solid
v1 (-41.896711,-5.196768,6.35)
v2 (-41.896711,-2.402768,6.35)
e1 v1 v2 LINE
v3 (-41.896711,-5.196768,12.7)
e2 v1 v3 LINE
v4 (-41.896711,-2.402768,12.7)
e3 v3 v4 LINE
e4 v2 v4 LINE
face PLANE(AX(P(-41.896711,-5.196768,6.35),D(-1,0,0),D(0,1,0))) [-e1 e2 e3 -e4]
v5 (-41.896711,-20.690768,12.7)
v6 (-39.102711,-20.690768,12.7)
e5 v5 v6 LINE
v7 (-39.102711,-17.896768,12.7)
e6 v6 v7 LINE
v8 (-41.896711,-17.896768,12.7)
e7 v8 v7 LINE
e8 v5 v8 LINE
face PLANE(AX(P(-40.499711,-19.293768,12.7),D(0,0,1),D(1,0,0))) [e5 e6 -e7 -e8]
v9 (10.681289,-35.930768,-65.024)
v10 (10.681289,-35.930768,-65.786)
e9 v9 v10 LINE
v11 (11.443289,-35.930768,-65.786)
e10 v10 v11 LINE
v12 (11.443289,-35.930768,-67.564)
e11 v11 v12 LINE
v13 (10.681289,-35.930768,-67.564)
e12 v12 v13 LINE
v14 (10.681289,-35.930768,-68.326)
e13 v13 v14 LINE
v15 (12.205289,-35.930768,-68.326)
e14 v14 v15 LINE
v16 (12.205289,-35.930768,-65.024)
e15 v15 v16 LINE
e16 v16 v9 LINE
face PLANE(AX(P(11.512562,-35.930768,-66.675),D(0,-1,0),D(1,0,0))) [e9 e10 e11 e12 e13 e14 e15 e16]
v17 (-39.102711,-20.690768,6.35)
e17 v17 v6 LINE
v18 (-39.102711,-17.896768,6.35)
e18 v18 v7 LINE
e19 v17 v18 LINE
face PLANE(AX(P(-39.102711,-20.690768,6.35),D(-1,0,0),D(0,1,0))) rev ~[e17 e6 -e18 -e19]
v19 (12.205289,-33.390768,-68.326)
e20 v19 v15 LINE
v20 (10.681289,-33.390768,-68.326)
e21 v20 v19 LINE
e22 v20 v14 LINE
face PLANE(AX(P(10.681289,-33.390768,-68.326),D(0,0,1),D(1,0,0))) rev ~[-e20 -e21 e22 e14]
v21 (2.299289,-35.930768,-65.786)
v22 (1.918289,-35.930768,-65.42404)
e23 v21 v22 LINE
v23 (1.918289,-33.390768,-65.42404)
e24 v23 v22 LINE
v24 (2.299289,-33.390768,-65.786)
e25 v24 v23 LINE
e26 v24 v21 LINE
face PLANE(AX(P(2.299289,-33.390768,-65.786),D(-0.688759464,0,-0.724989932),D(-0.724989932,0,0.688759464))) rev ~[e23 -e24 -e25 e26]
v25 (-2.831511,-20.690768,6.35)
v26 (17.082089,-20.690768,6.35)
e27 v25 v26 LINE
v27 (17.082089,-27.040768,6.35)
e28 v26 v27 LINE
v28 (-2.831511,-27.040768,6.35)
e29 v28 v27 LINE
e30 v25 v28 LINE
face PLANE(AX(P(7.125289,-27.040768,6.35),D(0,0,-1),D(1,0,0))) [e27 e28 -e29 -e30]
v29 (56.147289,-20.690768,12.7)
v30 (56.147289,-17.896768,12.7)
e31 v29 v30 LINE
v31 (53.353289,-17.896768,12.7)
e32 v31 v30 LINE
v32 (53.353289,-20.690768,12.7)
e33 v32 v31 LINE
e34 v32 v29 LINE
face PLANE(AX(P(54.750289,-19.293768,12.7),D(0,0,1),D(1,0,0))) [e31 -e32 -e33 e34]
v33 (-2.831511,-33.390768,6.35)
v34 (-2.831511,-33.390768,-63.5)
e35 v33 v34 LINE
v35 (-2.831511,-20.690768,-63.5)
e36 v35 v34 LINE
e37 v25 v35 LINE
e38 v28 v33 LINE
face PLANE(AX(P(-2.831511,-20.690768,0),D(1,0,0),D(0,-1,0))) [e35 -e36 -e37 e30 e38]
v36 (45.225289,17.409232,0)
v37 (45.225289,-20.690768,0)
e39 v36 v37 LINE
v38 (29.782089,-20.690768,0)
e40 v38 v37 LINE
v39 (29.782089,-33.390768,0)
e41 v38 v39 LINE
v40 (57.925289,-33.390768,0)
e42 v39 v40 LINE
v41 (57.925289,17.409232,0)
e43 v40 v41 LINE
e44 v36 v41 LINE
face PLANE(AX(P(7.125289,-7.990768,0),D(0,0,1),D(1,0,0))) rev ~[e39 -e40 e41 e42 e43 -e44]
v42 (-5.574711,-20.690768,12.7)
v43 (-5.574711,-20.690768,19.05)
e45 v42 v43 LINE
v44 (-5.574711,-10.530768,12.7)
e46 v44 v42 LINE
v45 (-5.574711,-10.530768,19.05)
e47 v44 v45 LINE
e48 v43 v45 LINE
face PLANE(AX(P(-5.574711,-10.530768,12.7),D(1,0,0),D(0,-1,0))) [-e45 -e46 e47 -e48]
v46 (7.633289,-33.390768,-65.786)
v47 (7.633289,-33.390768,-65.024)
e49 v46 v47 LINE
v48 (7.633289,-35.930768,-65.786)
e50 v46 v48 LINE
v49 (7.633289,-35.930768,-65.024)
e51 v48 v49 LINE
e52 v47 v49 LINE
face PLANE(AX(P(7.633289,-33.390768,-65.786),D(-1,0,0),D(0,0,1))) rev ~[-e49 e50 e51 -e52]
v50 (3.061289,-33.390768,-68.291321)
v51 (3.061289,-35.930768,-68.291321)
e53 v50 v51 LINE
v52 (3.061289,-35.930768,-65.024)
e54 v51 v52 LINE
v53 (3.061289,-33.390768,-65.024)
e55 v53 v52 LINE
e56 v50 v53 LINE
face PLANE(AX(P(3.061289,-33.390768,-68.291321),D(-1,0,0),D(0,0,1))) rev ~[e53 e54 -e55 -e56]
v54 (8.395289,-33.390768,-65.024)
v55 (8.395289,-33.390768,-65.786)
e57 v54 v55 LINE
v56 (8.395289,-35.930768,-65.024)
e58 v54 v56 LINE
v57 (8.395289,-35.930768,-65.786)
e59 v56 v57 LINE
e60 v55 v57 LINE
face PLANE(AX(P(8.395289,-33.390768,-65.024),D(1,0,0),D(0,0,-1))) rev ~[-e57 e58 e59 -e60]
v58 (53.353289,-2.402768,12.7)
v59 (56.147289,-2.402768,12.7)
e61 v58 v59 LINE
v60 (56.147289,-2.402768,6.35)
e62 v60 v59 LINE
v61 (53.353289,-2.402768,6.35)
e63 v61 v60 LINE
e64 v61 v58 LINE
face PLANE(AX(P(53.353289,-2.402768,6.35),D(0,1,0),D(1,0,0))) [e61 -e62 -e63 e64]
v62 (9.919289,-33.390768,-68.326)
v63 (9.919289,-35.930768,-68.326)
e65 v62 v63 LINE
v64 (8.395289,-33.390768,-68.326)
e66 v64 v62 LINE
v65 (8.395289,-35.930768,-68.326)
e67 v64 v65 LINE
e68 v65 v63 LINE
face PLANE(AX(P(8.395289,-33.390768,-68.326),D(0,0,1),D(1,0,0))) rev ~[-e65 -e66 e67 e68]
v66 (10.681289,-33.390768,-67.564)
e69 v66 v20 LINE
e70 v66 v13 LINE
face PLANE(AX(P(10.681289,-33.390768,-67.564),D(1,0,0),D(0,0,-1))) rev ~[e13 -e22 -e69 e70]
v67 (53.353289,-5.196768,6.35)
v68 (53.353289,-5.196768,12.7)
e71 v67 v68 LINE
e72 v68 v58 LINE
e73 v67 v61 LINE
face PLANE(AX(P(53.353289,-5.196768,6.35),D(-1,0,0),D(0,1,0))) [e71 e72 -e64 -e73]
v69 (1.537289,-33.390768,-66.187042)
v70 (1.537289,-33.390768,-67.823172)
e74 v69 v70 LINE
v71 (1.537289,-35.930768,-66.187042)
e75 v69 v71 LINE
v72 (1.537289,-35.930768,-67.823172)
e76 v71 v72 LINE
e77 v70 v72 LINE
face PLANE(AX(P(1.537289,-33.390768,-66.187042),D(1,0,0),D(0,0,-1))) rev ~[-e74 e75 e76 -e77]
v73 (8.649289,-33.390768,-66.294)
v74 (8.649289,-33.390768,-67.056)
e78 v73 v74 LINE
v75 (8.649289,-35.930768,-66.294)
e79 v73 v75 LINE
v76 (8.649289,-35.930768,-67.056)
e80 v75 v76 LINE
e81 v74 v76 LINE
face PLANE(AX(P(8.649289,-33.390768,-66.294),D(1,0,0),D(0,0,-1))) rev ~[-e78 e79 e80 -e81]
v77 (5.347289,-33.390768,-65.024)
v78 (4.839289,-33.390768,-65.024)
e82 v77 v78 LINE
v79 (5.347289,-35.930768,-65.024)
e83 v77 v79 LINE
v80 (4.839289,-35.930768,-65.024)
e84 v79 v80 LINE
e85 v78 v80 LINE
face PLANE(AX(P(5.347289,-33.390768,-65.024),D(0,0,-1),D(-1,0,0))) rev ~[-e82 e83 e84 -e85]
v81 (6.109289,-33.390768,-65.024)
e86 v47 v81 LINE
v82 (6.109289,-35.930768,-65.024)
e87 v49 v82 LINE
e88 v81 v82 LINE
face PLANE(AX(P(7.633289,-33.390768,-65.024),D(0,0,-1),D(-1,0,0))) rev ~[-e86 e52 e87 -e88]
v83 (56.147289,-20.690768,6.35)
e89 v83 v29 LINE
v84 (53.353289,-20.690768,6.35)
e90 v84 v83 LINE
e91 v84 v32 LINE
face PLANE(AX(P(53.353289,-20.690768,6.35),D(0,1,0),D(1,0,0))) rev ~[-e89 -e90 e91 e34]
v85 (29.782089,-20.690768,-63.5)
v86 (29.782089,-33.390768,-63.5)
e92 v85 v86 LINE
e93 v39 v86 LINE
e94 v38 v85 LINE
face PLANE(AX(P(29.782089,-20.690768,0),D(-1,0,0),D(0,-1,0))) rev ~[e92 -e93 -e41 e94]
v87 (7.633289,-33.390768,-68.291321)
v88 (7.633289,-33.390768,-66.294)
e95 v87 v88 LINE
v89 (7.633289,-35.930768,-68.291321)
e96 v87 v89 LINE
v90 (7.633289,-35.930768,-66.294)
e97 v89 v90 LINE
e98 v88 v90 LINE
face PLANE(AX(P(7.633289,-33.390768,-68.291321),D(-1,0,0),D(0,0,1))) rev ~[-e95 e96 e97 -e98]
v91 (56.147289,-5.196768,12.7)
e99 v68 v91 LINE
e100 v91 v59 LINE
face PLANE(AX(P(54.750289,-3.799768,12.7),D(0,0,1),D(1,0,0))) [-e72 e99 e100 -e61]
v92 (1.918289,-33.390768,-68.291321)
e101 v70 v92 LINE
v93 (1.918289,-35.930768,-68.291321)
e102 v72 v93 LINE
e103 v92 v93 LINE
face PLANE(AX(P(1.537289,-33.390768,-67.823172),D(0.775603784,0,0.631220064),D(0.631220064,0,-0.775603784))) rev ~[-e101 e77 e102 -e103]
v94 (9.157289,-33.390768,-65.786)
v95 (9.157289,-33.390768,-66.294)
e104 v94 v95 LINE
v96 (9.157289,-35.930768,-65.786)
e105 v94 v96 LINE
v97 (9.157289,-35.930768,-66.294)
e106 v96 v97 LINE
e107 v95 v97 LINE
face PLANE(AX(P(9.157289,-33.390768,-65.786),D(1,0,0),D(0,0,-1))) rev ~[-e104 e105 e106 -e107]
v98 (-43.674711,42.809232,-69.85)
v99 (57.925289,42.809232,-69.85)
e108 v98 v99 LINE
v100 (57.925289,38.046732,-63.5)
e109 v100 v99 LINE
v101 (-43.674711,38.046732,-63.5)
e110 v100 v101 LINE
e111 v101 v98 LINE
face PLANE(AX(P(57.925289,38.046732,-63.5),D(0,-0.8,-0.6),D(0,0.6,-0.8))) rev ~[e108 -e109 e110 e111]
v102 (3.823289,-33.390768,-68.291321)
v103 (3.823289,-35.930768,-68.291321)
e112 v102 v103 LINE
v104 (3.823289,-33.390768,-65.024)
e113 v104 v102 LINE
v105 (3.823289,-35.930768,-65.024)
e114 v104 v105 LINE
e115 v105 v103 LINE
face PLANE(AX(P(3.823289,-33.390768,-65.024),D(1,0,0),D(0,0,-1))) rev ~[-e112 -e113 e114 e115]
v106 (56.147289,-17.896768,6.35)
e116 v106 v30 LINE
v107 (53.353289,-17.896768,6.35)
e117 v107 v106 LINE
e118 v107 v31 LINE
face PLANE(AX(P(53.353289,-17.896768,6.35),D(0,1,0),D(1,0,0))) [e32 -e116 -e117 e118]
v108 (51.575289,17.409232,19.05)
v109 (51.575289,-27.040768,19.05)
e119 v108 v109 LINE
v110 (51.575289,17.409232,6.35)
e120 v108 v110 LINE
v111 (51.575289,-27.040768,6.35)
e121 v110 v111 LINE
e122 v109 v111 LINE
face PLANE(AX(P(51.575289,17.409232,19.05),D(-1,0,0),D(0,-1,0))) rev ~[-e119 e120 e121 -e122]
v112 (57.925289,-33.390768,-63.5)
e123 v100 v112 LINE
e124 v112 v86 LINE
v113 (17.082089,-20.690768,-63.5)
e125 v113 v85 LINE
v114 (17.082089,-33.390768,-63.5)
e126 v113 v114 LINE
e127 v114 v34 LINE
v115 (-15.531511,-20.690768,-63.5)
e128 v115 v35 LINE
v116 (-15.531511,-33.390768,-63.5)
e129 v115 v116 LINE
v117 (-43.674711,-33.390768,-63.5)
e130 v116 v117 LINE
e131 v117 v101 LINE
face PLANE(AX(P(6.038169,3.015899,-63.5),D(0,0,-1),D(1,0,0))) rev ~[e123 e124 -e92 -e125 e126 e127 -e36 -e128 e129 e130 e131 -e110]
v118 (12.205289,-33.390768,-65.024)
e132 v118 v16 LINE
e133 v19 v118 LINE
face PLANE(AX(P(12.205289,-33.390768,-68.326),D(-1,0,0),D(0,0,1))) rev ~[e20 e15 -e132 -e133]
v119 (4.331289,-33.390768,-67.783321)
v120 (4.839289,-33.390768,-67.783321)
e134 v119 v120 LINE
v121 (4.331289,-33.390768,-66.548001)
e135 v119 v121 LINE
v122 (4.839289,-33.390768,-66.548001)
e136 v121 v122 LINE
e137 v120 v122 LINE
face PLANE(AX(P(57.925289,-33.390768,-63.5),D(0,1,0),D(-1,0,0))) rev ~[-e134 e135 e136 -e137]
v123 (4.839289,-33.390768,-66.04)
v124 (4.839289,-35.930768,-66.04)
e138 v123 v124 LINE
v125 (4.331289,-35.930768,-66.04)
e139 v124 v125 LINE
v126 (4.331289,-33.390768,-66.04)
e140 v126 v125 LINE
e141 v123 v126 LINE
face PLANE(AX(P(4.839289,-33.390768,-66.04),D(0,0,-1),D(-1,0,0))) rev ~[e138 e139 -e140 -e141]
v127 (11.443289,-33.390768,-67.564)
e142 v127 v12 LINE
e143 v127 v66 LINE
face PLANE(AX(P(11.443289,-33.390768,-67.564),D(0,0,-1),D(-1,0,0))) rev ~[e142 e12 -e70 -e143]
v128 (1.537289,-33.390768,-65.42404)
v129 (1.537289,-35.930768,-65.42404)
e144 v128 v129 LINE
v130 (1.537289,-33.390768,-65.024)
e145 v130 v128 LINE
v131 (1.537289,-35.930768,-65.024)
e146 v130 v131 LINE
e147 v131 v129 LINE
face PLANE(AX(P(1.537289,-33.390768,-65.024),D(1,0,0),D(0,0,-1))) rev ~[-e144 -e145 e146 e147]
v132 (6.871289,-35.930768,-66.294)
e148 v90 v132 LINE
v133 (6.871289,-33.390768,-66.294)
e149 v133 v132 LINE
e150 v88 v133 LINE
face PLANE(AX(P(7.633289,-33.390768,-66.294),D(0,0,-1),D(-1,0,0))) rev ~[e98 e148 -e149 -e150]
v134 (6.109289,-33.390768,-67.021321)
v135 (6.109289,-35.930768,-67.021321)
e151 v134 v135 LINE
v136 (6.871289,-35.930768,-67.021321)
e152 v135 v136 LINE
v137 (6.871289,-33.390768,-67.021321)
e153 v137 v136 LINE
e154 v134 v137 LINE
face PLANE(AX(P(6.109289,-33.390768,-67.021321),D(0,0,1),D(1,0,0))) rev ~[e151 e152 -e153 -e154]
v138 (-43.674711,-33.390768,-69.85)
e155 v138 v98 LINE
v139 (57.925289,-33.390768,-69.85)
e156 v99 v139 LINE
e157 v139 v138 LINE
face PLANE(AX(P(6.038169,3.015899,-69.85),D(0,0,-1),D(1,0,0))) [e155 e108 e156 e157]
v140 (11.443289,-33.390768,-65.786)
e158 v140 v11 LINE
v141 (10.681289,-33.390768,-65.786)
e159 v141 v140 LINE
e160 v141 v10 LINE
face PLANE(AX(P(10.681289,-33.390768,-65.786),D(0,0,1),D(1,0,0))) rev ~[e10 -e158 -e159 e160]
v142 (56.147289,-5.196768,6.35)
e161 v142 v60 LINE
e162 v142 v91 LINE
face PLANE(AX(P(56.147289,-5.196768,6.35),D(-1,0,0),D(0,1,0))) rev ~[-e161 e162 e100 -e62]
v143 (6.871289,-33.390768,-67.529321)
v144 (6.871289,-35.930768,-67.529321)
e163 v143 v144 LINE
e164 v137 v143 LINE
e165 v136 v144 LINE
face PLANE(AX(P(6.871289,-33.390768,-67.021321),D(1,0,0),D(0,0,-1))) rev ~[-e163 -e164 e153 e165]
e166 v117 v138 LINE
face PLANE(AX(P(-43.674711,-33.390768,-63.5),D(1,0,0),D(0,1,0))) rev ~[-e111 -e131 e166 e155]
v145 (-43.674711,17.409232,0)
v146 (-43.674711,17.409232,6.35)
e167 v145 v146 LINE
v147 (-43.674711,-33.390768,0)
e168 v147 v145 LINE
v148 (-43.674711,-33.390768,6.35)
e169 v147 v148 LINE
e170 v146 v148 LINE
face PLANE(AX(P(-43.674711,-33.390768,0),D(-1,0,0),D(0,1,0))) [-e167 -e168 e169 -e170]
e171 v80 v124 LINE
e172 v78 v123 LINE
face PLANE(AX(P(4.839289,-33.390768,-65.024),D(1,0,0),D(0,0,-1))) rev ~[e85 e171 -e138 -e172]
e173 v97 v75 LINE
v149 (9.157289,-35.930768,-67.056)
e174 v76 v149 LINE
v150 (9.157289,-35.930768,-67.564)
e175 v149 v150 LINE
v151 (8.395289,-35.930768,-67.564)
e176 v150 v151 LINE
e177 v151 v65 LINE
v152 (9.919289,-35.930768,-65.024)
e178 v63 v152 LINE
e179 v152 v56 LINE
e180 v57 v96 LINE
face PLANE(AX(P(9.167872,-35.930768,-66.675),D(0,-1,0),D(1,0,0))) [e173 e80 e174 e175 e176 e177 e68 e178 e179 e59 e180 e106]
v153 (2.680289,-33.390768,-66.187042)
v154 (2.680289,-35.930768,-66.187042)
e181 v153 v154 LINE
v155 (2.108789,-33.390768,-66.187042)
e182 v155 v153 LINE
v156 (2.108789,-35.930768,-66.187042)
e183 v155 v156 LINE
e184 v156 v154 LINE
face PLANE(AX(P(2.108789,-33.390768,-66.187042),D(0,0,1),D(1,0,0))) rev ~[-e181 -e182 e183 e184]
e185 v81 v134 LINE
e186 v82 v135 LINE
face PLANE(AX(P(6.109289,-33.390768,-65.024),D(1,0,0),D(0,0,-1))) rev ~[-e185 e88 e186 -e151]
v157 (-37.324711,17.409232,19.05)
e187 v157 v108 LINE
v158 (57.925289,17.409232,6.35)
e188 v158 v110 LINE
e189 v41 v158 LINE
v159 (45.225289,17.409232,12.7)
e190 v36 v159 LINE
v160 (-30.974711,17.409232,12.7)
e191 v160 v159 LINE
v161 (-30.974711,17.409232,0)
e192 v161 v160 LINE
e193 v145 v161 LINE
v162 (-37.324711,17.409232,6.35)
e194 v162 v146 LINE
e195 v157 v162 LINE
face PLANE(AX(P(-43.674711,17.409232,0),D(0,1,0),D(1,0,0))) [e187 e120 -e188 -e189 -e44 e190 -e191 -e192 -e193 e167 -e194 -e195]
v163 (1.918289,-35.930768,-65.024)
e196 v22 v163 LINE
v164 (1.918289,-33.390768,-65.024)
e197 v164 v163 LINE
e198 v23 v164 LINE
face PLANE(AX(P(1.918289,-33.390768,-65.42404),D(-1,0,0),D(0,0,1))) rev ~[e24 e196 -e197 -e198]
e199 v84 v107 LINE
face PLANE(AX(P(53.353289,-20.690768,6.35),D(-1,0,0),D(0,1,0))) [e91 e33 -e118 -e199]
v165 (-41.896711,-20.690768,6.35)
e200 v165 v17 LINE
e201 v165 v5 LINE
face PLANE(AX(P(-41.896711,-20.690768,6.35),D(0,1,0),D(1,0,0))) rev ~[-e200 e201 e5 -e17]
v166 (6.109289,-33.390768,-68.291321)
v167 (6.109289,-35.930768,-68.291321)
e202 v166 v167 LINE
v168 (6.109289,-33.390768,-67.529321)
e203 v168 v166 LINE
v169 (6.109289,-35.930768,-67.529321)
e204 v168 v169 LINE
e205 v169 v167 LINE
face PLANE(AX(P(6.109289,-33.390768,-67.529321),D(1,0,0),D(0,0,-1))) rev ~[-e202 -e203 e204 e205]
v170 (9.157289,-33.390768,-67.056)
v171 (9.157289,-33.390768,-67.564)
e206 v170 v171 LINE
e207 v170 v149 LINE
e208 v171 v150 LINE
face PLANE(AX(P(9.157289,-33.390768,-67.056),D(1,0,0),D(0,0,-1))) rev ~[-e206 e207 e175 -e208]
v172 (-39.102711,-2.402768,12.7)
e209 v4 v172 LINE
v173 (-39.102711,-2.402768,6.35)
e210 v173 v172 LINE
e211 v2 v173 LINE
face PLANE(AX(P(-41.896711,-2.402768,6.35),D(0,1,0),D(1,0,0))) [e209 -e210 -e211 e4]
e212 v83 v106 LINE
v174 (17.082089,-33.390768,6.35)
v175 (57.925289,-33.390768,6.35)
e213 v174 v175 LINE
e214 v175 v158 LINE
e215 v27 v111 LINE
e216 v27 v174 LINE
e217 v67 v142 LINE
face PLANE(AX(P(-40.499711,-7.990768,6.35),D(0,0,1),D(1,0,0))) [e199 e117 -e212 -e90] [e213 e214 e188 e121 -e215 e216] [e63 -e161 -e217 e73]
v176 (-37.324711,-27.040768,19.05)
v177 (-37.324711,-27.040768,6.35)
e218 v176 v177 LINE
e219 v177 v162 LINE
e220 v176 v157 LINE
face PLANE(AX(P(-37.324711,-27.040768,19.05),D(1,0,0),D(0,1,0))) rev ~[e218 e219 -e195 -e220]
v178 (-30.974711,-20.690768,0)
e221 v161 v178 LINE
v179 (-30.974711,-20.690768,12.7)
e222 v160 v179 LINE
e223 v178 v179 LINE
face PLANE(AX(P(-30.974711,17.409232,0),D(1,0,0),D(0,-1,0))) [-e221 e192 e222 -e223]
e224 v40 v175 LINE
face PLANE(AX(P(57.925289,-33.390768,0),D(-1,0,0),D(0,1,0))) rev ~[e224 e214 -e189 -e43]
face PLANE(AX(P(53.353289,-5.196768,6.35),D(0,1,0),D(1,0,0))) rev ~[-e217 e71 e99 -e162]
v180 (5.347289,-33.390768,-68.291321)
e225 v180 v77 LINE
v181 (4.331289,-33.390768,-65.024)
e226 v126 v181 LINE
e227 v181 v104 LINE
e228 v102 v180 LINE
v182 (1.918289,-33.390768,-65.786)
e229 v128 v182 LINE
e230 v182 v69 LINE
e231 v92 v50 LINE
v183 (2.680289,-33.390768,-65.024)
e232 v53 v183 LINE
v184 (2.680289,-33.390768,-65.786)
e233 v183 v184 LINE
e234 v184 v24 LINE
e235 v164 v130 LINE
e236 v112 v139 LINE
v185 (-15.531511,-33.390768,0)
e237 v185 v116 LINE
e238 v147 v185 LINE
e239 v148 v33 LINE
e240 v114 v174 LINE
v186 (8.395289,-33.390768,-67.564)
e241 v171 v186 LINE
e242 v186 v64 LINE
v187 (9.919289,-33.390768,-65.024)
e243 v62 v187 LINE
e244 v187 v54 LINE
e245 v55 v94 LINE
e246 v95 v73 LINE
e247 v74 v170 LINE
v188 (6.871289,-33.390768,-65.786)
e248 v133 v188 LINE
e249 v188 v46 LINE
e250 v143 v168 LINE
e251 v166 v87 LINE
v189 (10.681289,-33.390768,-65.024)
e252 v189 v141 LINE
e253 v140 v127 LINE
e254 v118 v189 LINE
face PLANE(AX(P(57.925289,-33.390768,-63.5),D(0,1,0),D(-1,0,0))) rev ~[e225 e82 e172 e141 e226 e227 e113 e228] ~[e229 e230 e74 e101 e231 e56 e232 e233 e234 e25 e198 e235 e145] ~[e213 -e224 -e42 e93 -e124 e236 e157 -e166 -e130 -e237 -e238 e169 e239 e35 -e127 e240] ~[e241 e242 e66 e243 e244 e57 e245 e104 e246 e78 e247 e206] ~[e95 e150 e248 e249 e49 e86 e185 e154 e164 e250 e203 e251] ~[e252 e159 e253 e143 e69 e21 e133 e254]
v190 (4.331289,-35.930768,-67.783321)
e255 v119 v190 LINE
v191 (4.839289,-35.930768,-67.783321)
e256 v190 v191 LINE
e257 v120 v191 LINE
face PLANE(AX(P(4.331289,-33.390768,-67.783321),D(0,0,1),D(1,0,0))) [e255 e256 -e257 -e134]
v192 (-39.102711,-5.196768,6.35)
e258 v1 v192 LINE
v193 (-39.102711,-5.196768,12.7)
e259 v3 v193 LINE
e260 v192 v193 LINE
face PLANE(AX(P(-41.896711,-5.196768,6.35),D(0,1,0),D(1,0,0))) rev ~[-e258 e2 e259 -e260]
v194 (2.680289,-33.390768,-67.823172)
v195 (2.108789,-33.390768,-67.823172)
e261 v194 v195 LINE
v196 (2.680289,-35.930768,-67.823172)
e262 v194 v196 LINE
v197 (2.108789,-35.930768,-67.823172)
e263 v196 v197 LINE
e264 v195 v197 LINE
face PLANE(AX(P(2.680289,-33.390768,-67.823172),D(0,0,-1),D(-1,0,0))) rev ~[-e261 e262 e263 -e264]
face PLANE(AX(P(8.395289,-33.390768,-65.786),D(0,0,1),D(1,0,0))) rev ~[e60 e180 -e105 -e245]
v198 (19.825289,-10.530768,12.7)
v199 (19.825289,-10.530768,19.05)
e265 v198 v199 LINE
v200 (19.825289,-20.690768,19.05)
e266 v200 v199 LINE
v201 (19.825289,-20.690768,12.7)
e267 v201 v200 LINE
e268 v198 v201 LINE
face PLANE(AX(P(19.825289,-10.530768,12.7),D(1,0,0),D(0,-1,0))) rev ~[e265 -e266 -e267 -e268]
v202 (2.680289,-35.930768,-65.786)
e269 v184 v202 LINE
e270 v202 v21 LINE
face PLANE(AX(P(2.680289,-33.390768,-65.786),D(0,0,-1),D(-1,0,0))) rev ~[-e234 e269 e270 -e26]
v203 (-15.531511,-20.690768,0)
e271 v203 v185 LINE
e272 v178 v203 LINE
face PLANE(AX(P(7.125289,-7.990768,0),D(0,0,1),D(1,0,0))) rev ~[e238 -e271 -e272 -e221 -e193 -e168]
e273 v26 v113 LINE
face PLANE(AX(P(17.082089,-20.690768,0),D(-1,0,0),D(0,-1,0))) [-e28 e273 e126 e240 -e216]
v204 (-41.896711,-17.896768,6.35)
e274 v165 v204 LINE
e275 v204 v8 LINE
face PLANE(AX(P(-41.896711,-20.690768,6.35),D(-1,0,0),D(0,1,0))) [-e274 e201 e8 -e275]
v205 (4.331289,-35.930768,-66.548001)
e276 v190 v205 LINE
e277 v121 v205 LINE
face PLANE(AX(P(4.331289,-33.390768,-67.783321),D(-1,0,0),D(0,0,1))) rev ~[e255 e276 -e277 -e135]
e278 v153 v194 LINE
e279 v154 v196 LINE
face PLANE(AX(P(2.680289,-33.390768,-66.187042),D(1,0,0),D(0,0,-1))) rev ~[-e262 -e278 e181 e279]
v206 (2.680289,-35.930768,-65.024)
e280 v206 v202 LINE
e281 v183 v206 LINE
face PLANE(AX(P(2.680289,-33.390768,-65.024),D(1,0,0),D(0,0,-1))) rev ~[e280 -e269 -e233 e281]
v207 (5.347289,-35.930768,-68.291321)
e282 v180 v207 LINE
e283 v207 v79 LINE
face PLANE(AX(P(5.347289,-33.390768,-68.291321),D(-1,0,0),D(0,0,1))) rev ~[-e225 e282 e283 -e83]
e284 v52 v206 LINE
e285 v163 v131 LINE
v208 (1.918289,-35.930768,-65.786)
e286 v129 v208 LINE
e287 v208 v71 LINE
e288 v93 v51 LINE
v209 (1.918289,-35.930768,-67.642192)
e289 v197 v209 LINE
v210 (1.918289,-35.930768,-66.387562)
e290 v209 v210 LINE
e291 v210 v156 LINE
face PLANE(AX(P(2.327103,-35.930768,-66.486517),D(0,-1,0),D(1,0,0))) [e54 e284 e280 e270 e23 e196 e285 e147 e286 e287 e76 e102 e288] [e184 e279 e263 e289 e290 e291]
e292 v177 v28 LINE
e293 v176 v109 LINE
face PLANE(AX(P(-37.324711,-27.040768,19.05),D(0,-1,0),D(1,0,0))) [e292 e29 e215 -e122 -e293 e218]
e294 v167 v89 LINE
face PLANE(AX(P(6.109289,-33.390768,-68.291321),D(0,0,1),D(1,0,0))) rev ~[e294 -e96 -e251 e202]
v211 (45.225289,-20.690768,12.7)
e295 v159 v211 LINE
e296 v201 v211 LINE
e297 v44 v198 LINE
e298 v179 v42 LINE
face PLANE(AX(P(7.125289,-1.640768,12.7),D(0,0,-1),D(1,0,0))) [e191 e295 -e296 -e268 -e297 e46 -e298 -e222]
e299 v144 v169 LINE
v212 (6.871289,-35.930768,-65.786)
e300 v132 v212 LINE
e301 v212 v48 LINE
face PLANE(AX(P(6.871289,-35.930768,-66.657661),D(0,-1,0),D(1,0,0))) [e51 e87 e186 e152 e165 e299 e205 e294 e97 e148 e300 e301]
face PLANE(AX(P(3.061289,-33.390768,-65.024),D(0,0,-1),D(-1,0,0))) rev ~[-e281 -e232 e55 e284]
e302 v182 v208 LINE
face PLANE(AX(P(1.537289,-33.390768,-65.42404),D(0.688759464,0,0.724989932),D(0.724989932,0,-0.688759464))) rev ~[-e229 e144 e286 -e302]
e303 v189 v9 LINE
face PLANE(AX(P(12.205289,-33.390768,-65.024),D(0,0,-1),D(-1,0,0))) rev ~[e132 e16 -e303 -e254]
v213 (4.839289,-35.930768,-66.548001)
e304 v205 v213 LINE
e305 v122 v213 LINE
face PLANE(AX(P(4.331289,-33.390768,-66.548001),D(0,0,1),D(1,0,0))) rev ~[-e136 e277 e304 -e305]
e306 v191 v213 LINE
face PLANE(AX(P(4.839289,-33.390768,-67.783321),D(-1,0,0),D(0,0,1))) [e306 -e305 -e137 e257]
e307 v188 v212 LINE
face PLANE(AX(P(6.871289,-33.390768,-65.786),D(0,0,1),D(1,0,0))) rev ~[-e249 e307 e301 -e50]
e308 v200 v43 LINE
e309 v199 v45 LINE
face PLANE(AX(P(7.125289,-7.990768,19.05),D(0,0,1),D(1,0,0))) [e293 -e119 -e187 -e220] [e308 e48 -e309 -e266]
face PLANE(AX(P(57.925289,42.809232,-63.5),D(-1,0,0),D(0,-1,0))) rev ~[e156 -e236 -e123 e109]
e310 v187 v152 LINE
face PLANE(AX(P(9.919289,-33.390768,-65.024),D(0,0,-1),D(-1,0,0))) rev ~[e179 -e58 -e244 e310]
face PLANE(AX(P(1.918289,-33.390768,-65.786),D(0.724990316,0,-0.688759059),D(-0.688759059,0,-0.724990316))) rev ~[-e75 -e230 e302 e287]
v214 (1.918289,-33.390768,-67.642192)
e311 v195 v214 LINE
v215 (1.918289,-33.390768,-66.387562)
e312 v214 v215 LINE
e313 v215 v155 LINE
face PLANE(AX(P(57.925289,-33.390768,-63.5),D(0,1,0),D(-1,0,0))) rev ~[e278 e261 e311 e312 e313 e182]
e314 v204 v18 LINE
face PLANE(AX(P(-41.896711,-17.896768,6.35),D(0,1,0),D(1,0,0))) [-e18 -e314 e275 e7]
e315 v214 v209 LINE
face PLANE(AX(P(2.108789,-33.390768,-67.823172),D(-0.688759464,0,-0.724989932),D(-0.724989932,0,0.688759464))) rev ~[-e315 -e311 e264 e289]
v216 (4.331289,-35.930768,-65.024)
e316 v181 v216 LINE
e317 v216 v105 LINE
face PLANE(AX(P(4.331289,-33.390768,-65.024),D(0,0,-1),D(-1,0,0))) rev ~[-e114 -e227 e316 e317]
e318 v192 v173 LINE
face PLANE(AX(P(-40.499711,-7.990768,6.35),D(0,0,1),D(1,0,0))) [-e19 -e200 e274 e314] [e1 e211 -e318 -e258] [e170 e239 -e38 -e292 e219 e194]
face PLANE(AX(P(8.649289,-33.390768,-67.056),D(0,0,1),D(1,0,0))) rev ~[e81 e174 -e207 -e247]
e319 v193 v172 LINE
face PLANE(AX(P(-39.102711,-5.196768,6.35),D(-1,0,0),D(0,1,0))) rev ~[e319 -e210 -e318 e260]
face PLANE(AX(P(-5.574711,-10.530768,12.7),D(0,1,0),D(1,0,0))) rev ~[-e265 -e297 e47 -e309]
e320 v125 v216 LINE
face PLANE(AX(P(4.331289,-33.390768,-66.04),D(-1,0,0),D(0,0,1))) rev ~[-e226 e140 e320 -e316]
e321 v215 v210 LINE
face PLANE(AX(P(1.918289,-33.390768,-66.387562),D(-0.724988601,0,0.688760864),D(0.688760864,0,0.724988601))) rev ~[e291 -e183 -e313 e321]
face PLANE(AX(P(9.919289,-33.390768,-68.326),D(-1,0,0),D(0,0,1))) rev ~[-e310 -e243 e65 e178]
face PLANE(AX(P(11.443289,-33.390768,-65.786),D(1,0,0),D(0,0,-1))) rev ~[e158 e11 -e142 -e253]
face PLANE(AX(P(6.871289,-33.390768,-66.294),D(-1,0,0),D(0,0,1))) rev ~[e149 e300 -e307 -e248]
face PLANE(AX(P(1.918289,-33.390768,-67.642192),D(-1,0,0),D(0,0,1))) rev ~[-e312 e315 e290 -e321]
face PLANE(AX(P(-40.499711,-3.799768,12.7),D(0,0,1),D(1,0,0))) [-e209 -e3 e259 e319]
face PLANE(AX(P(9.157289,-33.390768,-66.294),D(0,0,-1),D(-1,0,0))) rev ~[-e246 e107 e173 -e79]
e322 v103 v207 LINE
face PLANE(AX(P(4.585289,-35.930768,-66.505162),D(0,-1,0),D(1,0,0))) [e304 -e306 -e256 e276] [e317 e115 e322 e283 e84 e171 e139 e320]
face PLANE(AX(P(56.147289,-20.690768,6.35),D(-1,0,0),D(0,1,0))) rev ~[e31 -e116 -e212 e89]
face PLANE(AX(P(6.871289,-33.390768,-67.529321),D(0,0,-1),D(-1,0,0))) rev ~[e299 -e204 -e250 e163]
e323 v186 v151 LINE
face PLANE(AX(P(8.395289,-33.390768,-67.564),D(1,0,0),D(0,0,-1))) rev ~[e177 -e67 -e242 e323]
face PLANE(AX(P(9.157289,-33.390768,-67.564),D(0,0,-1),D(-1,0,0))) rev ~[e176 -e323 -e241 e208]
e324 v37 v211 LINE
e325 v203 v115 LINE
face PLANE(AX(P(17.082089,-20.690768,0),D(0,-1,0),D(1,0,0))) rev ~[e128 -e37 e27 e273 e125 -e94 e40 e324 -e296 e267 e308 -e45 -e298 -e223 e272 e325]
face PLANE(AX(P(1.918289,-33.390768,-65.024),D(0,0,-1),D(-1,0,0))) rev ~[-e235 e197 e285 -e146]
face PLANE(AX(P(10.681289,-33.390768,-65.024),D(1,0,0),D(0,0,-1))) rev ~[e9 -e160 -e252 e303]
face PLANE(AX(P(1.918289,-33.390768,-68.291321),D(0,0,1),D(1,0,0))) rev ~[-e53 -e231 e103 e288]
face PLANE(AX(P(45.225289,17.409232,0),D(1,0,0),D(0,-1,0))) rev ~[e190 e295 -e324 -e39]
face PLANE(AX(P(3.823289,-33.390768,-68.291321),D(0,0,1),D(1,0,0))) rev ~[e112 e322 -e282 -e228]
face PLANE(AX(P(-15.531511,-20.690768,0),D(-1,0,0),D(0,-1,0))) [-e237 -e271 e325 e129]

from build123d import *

# Parameters (mm, degrees)
F0_W      = 101.6
F0_H      = 50.8
F1_DEPTH  = 19.05
F2_W      = 88.9
F2_H      = 6.35
F3_DEPTH  = 12.7
F4_W      = 76.2
F4_H      = 38.1
F5_DEPTH  = 12.7
F6_W      = 25.4
F6_H      = 10.16
F7_DEPTH  = 25.4
F8_W      = 19.9136
F8_H      = 12.7
F9_DEPTH  = 6.35
F10_W     = 12.7
F10_H     = 12.7
F11_DEPTH = 63.5
F12_W     = 12.7
F12_H     = 12.7
F13_DEPTH = 6.35
F15_DEPTH = 101.6
F16_W     = 2.794
F16_H     = 2.794
F17_DEPTH = 6.35
F18_W     = 0.508
F18_H     = 1.235321
F19_DEPTH = 2.54


with BuildPart() as f1:
    # F0 (on Top) → F1 (new body)
    with BuildSketch(Plane.XY):
        with Locations((7.125289, -7.990768)):
            Rectangle(F0_W, F0_H)
    extrude(amount=F1_DEPTH)

    # F2 (on face) → F3 (cut)
    with BuildSketch(Plane.XY.offset(19.05)):
        Polygon((-37.324711, -27.040768), (-37.324711, 17.409232), (-43.674711, 17.409232), (-43.674711, -33.390768), (-37.324711, -33.390768), align=None)
        with Locations((7.125289, -30.215768)):
            Rectangle(F2_W, F2_H)
        Polygon((57.925289, 17.409232), (51.575289, 17.409232), (51.575289, -27.040768), (51.575289, -33.390768), (57.925289, -33.390768), align=None)
    extrude(amount=-F3_DEPTH, mode=Mode.SUBTRACT)

    # F4 (on face) → F5 (cut)
    with BuildSketch(Plane(origin=(0, 0, 0), x_dir=(1, 0, 0), z_dir=(0, 0, -1))):
        with Locations((7.125289, 1.640768)):
            Rectangle(F4_W, F4_H)
    extrude(amount=-F5_DEPTH, mode=Mode.SUBTRACT)

    # F6 (on face) → F7 (cut)
    with BuildSketch(Plane(origin=(0, 0, 12.7), x_dir=(1, 0, 0), z_dir=(0, 0, -1))):
        with Locations((7.125289, 15.610768)):
            Rectangle(F6_W, F6_H)
    extrude(amount=-F7_DEPTH, mode=Mode.SUBTRACT)

    # F8 (on face) → F9 (cut)
    with BuildSketch(Plane(origin=(0, 0, 0), x_dir=(1, 0, 0), z_dir=(0, 0, -1))):
        with Locations((7.125289, 27.040768)):
            Rectangle(F8_W, F8_H)
    extrude(amount=-F9_DEPTH, mode=Mode.SUBTRACT)

    # F10 (on face) → F11 (join)
    with BuildSketch(Plane(origin=(0, 0, 0), x_dir=(1, 0, 0), z_dir=(0, 0, -1))):
        with Locations((23.432089, 27.040768)):
            Rectangle(F10_W, F10_H)
        with Locations((-9.181511, 27.040768)):
            Rectangle(F10_W, F10_H)
    extrude(amount=F11_DEPTH)

    # F12 (on face) → F13 (join)
    with BuildSketch(Plane(origin=(0, 0, -63.5), x_dir=(1, 0, 0), z_dir=(0, 0, -1))):
        Polygon((-43.674711, 33.390768), (-43.674711, -42.809232), (57.925289, -42.809232), (57.925289, 33.390768), (-2.831511, 33.390768), (-2.831511, 20.690768), (-15.531511, 20.690768), (-15.531511, 33.390768), align=None)
        with Locations((-9.181511, 27.040768)):
            Rectangle(F12_W, F12_H)
    extrude(amount=F13_DEPTH)

    # F14 (on face) → F15 (cut)
    with BuildSketch(Plane.YZ.offset(57.925289)):
        Polygon((38.046732, -63.5), (42.809232, -69.85), (42.809232, -63.5), align=None)
    extrude(amount=-F15_DEPTH, mode=Mode.SUBTRACT)

    # F16 (on face) → F17 (join)
    with BuildSketch(Plane.XY.offset(6.35)):
        with Locations((-40.499711, -3.799768)):
            Rectangle(F16_W, F16_H)
        with Locations((-40.499711, -19.293768)):
            Rectangle(F16_W, F16_H)
        with Locations((54.750289, -3.799768)):
            Rectangle(F16_W, F16_H)
        with Locations((54.750289, -19.293768)):
            Rectangle(F16_W, F16_H)
    extrude(amount=F17_DEPTH)

    # F18 (on face) → F19 (join)
    with BuildSketch(Plane.XZ.offset(33.390768)):
        Polygon((10.681289, -67.564), (10.681289, -68.326), (12.205289, -68.326), (12.205289, -65.024), (10.681289, -65.024), (10.681289, -65.786), (11.443289, -65.786), (11.443289, -67.564), align=None)
        Polygon((8.395289, -68.326), (9.919289, -68.326), (9.919289, -65.024), (8.395289, -65.024), (8.395289, -65.786), (9.157289, -65.786), (9.157289, -66.294), (8.649289, -66.294), (8.649289, -67.056), (9.157289, -67.056), (9.157289, -67.564), (8.395289, -67.564), align=None)
        Polygon((6.109289, -67.529321), (6.109289, -68.291321), (7.633289, -68.291321), (7.633289, -66.294), (6.871289, -66.294), (6.871289, -65.786), (7.633289, -65.786), (7.633289, -65.024), (6.109289, -65.024), (6.109289, -67.021321), (6.871289, -67.021321), (6.871289, -67.529321), align=None)
        Polygon((3.823289, -68.291321), (5.347289, -68.291321), (5.347289, -65.024), (4.839289, -65.024), (4.839289, -66.04), (4.331289, -66.04), (4.331289, -65.024), (3.823289, -65.024), align=None)
        with Locations((4.585289, -67.165661)):
            Rectangle(F18_W, F18_H, mode=Mode.SUBTRACT)
        Polygon((2.299289, -68.291321), (3.061289, -68.291321), (3.061289, -65.024), (2.680289, -65.024), (2.680289, -65.786), (2.299289, -65.786), (1.918289, -65.42404), (1.918289, -65.024), (1.537289, -65.024), (1.537289, -65.42404), (1.918289, -65.786), (1.537289, -66.187042), (1.537289, -67.823172), (1.918289, -68.291321), align=None)
        Polygon((2.108789, -66.187042), (2.680289, -66.187042), (2.680289, -67.823172), (2.108789, -67.823172), (1.918289, -67.642192), (1.918289, -66.387562), align=None, mode=Mode.SUBTRACT)
    extrude(amount=F19_DEPTH)


solid = f1.part
